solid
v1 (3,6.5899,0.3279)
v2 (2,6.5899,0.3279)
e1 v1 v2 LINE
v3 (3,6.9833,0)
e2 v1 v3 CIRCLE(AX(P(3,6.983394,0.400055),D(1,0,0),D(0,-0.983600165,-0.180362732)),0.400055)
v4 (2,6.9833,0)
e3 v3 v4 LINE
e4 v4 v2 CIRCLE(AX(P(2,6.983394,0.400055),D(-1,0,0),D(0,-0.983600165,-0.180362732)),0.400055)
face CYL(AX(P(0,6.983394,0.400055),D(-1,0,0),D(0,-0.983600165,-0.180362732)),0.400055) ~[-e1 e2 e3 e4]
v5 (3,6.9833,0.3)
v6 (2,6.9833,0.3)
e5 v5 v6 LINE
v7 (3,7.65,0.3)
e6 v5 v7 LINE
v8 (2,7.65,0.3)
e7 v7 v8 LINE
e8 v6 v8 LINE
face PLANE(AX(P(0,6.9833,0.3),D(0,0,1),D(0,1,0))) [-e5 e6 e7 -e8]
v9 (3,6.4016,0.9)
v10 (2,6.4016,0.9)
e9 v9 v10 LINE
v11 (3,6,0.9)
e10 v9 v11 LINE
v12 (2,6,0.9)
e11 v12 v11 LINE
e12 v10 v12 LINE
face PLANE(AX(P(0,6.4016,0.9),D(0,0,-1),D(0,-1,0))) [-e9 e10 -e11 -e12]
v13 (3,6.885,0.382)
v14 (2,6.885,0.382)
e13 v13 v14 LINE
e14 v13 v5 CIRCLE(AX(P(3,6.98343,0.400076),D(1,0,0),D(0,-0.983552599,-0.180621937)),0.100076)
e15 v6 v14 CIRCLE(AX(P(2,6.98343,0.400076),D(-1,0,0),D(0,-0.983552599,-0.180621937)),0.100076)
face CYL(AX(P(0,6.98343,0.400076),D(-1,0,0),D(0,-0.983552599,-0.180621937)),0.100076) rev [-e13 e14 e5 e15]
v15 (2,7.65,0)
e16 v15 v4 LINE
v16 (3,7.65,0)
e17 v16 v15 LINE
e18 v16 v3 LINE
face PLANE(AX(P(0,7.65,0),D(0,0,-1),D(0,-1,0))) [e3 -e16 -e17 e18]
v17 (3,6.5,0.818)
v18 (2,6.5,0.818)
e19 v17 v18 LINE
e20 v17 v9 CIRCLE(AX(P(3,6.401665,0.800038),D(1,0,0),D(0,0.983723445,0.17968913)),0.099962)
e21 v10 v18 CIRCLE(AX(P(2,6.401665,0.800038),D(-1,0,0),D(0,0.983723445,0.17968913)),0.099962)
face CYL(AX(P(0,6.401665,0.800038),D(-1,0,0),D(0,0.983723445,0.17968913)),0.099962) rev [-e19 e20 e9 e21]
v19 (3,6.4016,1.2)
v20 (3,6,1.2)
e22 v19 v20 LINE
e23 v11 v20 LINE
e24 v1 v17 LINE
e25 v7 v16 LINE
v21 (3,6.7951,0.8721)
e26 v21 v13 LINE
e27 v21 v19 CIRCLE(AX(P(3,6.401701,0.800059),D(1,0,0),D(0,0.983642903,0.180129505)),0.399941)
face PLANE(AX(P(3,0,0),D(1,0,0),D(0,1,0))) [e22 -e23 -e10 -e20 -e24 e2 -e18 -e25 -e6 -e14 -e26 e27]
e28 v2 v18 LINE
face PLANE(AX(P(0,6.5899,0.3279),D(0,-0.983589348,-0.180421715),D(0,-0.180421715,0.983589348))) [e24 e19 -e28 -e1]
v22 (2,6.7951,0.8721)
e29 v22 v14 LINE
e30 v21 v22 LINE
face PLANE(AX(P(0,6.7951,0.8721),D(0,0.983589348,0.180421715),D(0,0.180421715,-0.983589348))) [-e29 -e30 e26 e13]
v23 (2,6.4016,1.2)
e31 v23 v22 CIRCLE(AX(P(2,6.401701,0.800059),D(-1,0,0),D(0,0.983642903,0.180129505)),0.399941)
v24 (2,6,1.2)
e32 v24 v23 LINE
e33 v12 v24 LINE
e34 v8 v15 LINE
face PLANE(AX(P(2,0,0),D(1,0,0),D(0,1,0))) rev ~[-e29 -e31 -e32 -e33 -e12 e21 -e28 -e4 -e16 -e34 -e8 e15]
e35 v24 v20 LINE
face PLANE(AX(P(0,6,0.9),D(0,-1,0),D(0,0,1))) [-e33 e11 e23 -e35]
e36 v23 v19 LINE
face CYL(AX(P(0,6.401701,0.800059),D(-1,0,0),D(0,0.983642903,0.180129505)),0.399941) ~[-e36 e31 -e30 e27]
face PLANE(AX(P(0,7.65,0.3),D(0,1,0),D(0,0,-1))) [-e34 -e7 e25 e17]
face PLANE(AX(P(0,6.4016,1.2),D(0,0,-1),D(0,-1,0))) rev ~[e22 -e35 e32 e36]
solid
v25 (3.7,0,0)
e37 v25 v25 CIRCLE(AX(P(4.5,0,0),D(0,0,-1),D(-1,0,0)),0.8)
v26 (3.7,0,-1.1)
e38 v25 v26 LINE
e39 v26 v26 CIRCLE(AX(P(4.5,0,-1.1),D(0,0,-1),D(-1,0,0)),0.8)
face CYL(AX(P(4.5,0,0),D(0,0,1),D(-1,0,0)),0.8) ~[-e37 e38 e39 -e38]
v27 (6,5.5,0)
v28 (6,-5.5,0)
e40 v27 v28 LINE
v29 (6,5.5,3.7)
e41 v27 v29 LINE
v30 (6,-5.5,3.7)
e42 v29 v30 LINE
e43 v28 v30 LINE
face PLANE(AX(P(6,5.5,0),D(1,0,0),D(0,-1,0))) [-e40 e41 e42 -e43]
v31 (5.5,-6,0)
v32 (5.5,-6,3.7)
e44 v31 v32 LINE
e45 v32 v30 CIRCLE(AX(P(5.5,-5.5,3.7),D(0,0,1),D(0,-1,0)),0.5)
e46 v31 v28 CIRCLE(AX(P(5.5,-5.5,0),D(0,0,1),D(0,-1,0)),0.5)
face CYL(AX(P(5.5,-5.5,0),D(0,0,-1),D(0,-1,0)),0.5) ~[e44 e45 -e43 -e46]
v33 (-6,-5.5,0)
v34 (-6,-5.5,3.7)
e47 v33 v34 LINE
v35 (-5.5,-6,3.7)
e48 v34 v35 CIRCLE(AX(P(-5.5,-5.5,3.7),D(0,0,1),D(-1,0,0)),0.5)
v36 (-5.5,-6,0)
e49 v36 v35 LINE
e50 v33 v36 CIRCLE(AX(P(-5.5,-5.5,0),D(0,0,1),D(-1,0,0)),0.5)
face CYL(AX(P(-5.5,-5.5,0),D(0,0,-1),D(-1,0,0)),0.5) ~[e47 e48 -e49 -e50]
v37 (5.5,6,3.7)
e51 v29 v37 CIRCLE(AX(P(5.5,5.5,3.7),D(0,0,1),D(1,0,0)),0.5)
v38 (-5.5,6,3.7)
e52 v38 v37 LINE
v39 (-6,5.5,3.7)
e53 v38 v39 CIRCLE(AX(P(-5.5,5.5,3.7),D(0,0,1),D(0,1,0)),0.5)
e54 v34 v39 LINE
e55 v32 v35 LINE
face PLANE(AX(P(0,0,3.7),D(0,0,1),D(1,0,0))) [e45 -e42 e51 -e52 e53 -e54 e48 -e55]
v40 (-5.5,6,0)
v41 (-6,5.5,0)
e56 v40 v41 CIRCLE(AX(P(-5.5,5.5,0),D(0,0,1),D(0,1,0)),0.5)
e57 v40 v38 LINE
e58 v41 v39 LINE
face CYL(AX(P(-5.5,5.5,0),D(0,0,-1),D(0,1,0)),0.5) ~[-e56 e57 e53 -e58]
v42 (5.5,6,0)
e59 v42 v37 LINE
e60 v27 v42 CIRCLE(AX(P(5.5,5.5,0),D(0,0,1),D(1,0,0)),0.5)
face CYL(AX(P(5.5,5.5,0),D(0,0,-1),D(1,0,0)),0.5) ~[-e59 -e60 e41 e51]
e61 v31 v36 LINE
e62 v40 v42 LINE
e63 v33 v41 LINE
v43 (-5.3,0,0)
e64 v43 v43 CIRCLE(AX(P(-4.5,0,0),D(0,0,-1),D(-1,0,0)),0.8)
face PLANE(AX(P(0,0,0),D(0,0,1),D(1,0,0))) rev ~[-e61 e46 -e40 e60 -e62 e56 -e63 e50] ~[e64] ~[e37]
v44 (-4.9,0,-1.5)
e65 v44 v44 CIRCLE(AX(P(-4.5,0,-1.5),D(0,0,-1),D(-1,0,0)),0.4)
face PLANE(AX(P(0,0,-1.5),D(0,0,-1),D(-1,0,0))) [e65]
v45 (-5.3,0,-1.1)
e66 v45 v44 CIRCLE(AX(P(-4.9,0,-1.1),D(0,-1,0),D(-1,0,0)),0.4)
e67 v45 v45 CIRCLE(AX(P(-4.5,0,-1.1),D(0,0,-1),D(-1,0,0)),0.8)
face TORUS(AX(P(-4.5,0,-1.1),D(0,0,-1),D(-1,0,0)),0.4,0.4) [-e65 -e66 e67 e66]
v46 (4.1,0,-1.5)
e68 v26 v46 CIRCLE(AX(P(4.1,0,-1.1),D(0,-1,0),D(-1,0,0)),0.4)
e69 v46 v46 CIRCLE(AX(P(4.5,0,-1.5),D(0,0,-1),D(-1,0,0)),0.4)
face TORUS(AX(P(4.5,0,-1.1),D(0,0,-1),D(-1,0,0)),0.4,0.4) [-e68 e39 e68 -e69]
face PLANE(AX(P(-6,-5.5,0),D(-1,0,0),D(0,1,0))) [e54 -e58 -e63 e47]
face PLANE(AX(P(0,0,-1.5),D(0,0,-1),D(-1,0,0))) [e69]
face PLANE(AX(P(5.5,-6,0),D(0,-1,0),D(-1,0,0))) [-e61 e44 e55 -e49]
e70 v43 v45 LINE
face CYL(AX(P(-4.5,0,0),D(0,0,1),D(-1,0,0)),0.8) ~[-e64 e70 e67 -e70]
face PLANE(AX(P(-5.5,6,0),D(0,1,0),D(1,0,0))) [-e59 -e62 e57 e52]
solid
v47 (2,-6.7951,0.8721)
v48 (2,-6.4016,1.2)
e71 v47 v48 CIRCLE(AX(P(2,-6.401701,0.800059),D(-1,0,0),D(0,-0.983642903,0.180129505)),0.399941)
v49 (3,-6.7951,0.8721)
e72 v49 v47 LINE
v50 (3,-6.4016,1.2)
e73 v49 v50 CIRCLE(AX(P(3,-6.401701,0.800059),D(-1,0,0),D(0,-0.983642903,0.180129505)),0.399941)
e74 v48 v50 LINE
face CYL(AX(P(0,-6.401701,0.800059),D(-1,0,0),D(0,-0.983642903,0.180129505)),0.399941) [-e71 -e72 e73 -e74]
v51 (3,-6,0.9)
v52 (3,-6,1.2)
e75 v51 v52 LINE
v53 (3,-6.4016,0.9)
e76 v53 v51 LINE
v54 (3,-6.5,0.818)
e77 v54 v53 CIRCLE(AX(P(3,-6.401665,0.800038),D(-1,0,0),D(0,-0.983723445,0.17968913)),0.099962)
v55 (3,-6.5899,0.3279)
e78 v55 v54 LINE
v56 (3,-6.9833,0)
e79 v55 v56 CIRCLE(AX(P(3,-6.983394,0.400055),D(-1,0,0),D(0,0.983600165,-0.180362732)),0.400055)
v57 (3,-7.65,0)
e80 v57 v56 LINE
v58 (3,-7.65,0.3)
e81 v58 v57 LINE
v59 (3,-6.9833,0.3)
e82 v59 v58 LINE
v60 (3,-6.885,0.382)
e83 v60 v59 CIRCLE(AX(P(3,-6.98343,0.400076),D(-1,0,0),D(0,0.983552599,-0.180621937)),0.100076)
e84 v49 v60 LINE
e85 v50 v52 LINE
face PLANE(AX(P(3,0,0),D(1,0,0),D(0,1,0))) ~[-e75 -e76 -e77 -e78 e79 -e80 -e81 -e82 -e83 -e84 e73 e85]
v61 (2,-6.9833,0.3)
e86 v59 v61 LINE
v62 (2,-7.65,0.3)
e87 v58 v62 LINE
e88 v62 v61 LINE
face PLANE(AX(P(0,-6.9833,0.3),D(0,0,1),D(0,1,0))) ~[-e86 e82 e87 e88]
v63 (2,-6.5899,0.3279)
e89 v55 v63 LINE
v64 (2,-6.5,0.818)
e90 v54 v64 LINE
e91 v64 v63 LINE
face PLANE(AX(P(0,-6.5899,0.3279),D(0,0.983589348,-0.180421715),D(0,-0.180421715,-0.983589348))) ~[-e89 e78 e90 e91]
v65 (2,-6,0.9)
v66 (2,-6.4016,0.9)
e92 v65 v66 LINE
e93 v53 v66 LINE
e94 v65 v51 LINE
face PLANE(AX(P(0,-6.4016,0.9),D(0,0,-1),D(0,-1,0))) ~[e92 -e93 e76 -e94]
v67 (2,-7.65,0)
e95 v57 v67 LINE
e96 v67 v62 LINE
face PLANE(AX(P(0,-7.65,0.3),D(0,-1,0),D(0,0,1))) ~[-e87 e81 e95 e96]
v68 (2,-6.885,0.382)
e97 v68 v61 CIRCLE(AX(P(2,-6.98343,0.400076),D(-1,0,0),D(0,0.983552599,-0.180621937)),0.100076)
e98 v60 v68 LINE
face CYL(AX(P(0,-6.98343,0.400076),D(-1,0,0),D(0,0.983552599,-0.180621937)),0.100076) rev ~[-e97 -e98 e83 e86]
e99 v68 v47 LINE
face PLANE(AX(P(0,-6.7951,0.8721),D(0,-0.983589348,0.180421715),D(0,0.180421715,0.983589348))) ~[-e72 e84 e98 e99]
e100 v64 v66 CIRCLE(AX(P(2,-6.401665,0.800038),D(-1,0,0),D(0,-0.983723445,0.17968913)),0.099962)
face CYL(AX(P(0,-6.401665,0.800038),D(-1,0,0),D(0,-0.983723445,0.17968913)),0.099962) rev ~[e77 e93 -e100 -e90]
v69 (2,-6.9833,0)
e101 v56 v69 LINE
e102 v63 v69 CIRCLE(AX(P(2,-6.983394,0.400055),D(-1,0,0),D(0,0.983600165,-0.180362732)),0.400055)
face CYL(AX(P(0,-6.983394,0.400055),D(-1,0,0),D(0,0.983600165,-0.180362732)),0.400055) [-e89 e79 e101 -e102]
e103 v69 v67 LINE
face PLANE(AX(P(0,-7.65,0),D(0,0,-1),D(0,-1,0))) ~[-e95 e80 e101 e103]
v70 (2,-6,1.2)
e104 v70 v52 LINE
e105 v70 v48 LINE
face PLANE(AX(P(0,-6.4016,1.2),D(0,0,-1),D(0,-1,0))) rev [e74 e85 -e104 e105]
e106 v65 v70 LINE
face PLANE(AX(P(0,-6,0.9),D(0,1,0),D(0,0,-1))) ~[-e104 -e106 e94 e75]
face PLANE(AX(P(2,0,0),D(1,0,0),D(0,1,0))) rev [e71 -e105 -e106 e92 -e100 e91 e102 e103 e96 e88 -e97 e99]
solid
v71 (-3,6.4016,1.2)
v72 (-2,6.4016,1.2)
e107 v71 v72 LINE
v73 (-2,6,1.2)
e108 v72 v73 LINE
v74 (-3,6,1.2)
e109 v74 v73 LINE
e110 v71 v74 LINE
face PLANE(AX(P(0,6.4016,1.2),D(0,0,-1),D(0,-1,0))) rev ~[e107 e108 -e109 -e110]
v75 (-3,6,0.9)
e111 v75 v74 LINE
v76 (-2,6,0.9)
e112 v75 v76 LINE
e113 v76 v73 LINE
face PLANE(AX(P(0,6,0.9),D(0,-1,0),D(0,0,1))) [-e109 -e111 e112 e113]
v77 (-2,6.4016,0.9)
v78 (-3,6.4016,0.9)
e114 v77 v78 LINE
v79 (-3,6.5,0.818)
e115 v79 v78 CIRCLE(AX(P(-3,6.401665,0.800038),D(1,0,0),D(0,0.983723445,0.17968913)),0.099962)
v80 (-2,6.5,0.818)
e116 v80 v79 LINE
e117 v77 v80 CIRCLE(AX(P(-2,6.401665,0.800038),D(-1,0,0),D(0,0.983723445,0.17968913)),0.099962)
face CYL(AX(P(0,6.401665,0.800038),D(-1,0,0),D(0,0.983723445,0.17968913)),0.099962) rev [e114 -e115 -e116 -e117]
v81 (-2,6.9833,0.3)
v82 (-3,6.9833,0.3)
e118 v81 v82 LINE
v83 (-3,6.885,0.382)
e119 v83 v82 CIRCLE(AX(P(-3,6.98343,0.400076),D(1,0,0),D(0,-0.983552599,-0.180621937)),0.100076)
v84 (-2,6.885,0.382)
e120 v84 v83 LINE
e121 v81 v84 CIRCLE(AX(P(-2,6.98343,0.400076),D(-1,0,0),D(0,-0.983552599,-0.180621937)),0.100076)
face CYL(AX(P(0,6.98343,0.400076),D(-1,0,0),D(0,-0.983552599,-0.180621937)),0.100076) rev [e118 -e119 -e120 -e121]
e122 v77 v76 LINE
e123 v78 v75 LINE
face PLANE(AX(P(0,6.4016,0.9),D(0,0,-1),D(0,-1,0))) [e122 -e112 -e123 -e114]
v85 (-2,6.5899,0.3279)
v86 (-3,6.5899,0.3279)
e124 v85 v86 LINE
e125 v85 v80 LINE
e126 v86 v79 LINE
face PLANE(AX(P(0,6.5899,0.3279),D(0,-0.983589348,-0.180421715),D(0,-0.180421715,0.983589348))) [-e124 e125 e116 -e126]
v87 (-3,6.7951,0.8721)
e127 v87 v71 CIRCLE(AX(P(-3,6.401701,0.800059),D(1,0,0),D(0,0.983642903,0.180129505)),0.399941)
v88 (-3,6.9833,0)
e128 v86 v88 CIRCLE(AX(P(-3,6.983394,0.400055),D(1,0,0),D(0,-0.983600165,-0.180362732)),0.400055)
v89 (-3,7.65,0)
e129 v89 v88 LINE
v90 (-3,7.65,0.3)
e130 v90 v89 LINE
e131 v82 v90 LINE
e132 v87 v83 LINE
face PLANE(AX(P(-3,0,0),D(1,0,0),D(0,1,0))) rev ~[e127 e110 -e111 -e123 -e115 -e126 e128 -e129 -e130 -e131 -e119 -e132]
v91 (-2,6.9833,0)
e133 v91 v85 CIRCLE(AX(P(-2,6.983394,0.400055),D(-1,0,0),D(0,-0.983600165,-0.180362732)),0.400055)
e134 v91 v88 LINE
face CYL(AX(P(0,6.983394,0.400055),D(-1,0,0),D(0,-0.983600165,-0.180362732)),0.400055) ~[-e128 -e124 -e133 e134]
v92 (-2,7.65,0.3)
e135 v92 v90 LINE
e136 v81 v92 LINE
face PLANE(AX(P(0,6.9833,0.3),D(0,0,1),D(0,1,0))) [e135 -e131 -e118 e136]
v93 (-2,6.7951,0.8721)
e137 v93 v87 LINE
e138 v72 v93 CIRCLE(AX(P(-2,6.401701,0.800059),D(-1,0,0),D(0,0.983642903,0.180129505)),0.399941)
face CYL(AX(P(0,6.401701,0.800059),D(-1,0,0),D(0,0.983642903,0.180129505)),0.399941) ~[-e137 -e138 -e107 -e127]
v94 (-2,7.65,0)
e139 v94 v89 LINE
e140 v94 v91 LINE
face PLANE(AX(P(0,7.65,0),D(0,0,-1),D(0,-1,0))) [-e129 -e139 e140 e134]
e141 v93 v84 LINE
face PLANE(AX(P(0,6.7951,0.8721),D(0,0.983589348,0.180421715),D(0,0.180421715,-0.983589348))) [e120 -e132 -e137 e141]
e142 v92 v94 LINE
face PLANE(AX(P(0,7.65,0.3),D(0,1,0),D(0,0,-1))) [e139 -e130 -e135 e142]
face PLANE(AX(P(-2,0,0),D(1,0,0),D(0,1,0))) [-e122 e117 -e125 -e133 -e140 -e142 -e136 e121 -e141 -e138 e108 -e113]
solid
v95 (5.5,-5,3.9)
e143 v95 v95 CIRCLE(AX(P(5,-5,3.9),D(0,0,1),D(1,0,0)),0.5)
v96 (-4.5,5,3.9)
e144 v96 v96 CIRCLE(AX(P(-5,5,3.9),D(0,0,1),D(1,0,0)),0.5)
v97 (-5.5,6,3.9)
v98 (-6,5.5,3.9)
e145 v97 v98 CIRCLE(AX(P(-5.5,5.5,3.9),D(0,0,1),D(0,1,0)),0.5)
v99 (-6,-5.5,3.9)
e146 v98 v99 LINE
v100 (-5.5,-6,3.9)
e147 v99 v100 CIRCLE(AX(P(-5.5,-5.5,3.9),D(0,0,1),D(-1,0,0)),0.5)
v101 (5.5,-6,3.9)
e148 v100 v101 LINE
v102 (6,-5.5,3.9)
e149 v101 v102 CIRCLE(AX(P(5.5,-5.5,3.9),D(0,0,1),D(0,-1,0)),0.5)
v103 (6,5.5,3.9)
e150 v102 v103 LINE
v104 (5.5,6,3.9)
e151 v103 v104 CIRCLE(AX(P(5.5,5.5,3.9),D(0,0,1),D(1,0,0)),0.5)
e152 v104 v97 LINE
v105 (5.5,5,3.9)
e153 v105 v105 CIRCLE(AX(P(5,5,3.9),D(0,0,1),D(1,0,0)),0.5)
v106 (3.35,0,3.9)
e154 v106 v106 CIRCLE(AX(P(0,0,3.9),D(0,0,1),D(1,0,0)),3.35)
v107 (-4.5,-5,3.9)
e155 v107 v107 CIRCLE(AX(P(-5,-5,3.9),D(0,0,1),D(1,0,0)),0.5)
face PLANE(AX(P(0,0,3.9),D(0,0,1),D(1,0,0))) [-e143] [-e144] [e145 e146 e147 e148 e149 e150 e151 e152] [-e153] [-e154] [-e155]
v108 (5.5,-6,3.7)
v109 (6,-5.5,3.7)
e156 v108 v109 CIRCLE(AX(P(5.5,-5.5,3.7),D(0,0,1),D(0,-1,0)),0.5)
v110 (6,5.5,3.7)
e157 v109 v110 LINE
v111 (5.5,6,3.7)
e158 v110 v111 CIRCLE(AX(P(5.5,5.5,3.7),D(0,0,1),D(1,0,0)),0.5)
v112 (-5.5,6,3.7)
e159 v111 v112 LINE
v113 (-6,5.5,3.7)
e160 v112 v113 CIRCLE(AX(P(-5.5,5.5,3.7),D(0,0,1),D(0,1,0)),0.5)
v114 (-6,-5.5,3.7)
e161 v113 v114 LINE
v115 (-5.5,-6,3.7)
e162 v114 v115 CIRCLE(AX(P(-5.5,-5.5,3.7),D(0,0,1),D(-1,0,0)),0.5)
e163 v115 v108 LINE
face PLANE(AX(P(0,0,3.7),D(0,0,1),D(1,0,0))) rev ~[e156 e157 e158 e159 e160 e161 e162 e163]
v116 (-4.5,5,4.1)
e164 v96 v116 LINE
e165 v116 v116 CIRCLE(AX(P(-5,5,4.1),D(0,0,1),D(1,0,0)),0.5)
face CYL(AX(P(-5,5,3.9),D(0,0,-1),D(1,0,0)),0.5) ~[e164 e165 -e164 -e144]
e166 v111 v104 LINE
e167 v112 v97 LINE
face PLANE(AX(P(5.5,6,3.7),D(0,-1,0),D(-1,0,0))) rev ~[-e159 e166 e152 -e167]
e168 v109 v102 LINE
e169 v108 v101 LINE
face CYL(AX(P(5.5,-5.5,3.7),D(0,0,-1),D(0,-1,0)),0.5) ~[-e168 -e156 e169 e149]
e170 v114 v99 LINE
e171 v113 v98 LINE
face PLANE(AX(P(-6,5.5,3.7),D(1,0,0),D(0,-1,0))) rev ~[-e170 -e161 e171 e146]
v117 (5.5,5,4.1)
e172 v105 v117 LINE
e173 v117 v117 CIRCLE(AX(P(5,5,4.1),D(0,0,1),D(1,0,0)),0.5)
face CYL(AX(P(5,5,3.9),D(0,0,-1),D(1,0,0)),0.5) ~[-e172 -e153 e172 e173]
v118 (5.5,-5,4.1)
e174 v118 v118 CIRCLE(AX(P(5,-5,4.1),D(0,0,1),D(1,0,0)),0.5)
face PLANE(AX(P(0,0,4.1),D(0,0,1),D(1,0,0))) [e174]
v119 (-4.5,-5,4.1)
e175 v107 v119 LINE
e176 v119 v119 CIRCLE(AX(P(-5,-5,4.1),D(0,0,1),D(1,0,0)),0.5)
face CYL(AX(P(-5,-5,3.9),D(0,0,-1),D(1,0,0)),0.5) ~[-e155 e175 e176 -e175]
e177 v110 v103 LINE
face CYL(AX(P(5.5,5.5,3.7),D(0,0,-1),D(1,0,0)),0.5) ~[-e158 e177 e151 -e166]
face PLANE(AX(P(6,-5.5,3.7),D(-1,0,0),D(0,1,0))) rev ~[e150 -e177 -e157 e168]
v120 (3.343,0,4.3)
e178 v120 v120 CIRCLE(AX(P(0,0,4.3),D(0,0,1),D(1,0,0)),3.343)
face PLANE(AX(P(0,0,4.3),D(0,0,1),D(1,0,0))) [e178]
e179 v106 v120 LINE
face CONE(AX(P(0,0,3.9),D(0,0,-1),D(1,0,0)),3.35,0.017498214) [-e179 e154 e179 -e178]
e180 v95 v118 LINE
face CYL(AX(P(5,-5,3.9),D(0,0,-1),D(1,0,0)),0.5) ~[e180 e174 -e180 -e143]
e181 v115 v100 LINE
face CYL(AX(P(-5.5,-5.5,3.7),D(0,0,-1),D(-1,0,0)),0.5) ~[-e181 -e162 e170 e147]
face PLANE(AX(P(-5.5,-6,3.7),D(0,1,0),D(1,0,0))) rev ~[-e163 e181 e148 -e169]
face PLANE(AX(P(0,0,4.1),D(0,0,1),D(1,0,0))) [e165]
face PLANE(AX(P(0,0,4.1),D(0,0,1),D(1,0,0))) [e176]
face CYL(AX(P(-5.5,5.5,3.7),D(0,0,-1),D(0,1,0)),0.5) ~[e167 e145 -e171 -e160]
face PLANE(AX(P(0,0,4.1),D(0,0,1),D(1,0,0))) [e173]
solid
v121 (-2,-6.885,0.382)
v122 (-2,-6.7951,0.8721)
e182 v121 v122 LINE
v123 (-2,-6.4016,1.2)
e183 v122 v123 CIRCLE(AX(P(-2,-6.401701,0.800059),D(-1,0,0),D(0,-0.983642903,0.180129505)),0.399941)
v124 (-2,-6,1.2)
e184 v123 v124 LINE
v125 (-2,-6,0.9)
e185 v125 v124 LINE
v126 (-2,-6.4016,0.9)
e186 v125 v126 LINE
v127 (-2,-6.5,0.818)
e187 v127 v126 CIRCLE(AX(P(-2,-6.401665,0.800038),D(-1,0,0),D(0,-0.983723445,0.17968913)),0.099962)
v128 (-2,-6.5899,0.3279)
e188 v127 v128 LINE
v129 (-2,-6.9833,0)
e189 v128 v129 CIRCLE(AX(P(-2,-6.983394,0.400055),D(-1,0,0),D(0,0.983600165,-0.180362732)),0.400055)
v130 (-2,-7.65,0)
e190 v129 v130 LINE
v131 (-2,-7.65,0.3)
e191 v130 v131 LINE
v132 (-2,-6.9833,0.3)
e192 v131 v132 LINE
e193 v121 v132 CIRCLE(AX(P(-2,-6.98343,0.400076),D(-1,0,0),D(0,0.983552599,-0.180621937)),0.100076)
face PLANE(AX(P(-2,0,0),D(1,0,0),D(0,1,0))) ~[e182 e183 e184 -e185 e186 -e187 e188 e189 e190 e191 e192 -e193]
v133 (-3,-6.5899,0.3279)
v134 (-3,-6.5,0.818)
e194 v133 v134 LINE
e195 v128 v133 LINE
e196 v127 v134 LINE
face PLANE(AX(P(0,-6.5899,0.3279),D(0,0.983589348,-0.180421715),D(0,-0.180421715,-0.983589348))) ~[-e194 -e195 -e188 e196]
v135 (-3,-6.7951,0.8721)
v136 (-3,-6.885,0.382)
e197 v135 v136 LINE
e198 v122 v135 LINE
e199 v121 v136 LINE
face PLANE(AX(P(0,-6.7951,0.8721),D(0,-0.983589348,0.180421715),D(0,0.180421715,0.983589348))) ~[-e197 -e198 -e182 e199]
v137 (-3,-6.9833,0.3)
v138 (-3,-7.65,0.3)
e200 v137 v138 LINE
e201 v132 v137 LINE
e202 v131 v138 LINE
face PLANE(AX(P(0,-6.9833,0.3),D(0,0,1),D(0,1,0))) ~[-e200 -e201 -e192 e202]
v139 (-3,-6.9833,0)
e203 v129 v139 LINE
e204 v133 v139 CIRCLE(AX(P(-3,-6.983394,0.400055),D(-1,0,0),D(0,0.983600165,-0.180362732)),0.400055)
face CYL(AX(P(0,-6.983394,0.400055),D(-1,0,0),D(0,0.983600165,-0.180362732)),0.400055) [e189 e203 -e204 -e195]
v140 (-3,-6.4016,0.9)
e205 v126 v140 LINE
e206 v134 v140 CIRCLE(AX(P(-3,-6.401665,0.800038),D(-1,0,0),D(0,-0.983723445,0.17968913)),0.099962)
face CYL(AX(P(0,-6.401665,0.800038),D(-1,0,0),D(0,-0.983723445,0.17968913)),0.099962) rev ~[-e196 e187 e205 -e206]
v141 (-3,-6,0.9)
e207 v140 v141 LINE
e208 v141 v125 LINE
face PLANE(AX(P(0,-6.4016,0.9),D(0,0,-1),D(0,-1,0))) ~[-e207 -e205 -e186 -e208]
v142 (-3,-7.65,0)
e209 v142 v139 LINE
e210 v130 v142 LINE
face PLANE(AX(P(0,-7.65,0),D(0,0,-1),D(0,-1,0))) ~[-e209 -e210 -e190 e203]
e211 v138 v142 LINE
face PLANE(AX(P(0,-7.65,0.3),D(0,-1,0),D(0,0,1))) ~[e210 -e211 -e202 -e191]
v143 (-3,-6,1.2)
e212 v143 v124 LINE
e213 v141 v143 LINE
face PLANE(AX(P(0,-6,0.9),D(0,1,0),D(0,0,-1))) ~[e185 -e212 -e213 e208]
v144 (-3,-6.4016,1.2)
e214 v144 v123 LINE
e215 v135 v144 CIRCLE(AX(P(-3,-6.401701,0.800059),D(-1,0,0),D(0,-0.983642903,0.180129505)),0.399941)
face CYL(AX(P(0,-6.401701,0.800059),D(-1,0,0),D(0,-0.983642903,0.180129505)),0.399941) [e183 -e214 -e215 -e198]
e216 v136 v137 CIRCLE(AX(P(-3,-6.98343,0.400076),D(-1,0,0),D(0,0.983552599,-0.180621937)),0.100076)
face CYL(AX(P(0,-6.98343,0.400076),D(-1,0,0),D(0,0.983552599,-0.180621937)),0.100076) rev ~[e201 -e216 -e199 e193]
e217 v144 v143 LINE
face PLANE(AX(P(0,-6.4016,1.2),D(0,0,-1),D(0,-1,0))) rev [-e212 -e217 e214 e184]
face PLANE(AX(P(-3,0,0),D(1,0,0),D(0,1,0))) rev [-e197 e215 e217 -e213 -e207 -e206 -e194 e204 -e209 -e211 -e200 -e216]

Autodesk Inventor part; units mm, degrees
ref_plane "YZ Plane" through (0, 0, 0) normal (1, 0, 0) x (0, 1, 0)
ref_plane "XZ Plane" through (0, 0, 0) normal (0, 1, 0) x (-1, 0, 0)
ref_plane "XY Plane" through (0, 0, 0) normal (0, 0, 1) x (1, 0, 0)
sketch "Boceto39" plane through (0, 0, 0) normal (0, 0, 1) x (1, 0, 0)
  line L0 (-5.5, 6) -> (5.5, 6)
  line L1 (6, 5.5) -> (6, -5.5)
  line L2 (5.5, -6) -> (-5.5, -6)
  line L3 (-6, -5.5) -> (-6, 5.5)
  arc A0 (6, 5.5) -> (5.5, 6) centre (5.5, 5.5) ccw
  arc A1 (-5.5, 6) -> (-6, 5.5) centre (-5.5, 5.5) ccw
  arc A2 (-6, -5.5) -> (-5.5, -6) centre (-5.5, -5.5) ccw
  arc A3 (5.5, -6) -> (6, -5.5) centre (5.5, -5.5) ccw
  point P0 (0, 0)
  point P1 (-6, 6)
  point P2 (6, -6)
  point P3 (6, 6)
  point P4 (-6, -6)
  point P5 (0, 6)
  point P6 (6, 0)
  dimension "d373" = 12
  dimension "d376" = 0.5
extrude "Extrusión13" add sketch "Boceto39" along normal blind 3.7
sketch "Boceto40" plane through (0, 0, 3.7) normal (0, 0, 1) x (1, 0, 0)
  line L0 (5.5, 6) -> (-5.5, 6) projected
  arc A0 (-5.5, 6) -> (-6, 5.5) centre (-5.5, 5.5) ccw projected
  line L1 (-6, 5.5) -> (-6, -5.5) projected
  arc A1 (-6, -5.5) -> (-5.5, -6) centre (-5.5, -5.5) ccw projected
  line L2 (-5.5, -6) -> (5.5, -6) projected
  arc A2 (5.5, -6) -> (6, -5.5) centre (5.5, -5.5) ccw projected
  line L3 (6, -5.5) -> (6, 5.5) projected
  arc A3 (6, 5.5) -> (5.5, 6) centre (5.5, 5.5) ccw projected
  point P0 (0, 0)
extrude "Extrusión14" add sketch "Boceto40" along normal blind 0.2 separate body
sketch "Boceto43" plane through (0, 0, 0) normal (1, 0, 0) x (0, 1, 0)
  line L0 (0, 0) -> (0, -3.6276) construction
  line L1 (6, 0) -> (6, 3.7) construction
  line L2 (6.4016, 1.2) -> (6, 1.2)
  line L3 (5.5, 3.9) -> (-5.5, 3.9) projected
  line L4 (5.5, 0) -> (-5.5, 0) projected
  line L5 (6.4016, 0.9) -> (6, 0.9)
  line L6 (6, 0.9) -> (6, 1.2)
  arc A0 (6.5, 0.818) -> (6.4016, 0.9) centre (6.4016, 0.8) ccw
  arc A1 (6.7951, 0.8721) -> (6.4016, 1.2) centre (6.4016, 0.8) ccw
  line L7 (6.7951, 0.8721) -> (6.885, 0.382)
  line L8 (6.9833, 0.3) -> (7.65, 0.3)
  line L9 (7.65, 0.3) -> (7.65, 0)
  line L10 (7.65, 0) -> (6.9833, 0)
  line L11 (6.5899, 0.3279) -> (6.5, 0.818)
  arc A2 (6.885, 0.382) -> (6.9833, 0.3) centre (6.9833, 0.4) ccw
  arc A3 (6.5899, 0.3279) -> (6.9833, 0) centre (6.9833, 0.4) ccw
  point P0 (6.55, 1.2)
  point P1 (6.65, 0)
  dimension "d399" = 2.7
  dimension "d426" = 0.3
  dimension "d435" = 0.1
  dimension "d436" = 0.4
  dimension "d437" = 0.3
  dimension "d438" = 0.3
  dimension "d439" = 7.65
  dimension "d440" = 6.5
  dimension "d441" = 1
  dimension "d442" = 0.1
  dimension "d443" = 0.4
extrude "Extrusión15" add sketch "Boceto43" along normal mid plane 6 separate body
sketch "Boceto45" plane through (0, 0, 0) normal (1, 0, 0) x (0, 1, 0)
  line L0 (6, 1.2) -> (6.4016, 1.2) projected
  line L1 (6, 1.2) -> (8.6614, 1.2)
  line L2 (8.6614, 1.2) -> (8.6614, -2.2134)
  line L3 (8.6614, -2.2134) -> (6, -2.2134)
  line L4 (6, -2.2134) -> (6, 1.2)
  point P0 (0, 0)
  point P1 (3.3, 0.8)
extrude "Extrusión17" cut sketch "Boceto45" along normal mid plane 4 bodies 3
mirror "Simetría1" about plane through (0, 0, 0) normal (0, 1, 0) of "Extrusión15", "Extrusión17" bodies 3
sketch "Boceto48" plane through (0, 0, 0) normal (0, 1, 0) x (-1, 0, 0)
  line L0 (0, 0) -> (0, 17.1627)
  line L1 (-5.5, 3.9) -> (5.5, 3.9) construction
  line L2 (0, 3.9) -> (-3.35, 3.9)
  line L3 (-3.35, 3.9) -> (-3.343, 4.3)
  line L4 (-3.343, 4.3) -> (0, 4.3)
  line L5 (0, 4.3) -> (0, 3.9)
  line L6 (-5.5, 0) -> (5.5, 0) projected
  line L7 (-3.35, 3.9) -> (-3.35, 4.5675) construction
  dimension "d422" = 4.3
  dimension "d423" = 6.7
  dimension "d424" = 1
revolve "Revolución14" add sketch "Boceto48" angle 360 about axis through (0, 0, 0) along (0, 0, 1) bodies 2
sketch "Boceto46" plane through (0, 0, 3.9) normal (0, 0, 1) x (1, 0, 0)
  line L0 (-5, -5) -> (5, -5) construction
  line L1 (5, -5) -> (5, 5) construction
  line L2 (5, 5) -> (-5, 5) construction
  line L3 (-5, 5) -> (-5, -5) construction
  circle A0 centre (-5, -5) radius 0.5
  circle A1 centre (-5, 5) radius 0.5
  circle A2 centre (5, 5) radius 0.5
  circle A3 centre (5, -5) radius 0.5
  point P0 (0, 0)
  point P1 (0, -5)
  point P2 (-5, 0)
  dimension "d417" = 1
  dimension "d418" = 10
extrude "Extrusión18" add sketch "Boceto46" along normal blind 0.2 bodies 2
sketch "Boceto49" plane through (0, 0, 0) normal (0, 0, -1) x (-1, 0, 0)
  circle A0 centre (-4.5, 0) radius 0.8
  circle A1 centre (4.5, 0) radius 0.8
  point P0 (0, 0)
  dimension "d444" = 9
  dimension "d445" = 4.5
  dimension "d446" = 1.6
extrude "Extrusión19" add sketch "Boceto49" along normal blind 1.5 bodies 1
fillet "Empalme45" radius 0.4 2 edges at (5.3, 0, -1.5) (-3.7, 0, -1.5)
properties part number "TACT-SWITCH-SMD-12X12MM"
